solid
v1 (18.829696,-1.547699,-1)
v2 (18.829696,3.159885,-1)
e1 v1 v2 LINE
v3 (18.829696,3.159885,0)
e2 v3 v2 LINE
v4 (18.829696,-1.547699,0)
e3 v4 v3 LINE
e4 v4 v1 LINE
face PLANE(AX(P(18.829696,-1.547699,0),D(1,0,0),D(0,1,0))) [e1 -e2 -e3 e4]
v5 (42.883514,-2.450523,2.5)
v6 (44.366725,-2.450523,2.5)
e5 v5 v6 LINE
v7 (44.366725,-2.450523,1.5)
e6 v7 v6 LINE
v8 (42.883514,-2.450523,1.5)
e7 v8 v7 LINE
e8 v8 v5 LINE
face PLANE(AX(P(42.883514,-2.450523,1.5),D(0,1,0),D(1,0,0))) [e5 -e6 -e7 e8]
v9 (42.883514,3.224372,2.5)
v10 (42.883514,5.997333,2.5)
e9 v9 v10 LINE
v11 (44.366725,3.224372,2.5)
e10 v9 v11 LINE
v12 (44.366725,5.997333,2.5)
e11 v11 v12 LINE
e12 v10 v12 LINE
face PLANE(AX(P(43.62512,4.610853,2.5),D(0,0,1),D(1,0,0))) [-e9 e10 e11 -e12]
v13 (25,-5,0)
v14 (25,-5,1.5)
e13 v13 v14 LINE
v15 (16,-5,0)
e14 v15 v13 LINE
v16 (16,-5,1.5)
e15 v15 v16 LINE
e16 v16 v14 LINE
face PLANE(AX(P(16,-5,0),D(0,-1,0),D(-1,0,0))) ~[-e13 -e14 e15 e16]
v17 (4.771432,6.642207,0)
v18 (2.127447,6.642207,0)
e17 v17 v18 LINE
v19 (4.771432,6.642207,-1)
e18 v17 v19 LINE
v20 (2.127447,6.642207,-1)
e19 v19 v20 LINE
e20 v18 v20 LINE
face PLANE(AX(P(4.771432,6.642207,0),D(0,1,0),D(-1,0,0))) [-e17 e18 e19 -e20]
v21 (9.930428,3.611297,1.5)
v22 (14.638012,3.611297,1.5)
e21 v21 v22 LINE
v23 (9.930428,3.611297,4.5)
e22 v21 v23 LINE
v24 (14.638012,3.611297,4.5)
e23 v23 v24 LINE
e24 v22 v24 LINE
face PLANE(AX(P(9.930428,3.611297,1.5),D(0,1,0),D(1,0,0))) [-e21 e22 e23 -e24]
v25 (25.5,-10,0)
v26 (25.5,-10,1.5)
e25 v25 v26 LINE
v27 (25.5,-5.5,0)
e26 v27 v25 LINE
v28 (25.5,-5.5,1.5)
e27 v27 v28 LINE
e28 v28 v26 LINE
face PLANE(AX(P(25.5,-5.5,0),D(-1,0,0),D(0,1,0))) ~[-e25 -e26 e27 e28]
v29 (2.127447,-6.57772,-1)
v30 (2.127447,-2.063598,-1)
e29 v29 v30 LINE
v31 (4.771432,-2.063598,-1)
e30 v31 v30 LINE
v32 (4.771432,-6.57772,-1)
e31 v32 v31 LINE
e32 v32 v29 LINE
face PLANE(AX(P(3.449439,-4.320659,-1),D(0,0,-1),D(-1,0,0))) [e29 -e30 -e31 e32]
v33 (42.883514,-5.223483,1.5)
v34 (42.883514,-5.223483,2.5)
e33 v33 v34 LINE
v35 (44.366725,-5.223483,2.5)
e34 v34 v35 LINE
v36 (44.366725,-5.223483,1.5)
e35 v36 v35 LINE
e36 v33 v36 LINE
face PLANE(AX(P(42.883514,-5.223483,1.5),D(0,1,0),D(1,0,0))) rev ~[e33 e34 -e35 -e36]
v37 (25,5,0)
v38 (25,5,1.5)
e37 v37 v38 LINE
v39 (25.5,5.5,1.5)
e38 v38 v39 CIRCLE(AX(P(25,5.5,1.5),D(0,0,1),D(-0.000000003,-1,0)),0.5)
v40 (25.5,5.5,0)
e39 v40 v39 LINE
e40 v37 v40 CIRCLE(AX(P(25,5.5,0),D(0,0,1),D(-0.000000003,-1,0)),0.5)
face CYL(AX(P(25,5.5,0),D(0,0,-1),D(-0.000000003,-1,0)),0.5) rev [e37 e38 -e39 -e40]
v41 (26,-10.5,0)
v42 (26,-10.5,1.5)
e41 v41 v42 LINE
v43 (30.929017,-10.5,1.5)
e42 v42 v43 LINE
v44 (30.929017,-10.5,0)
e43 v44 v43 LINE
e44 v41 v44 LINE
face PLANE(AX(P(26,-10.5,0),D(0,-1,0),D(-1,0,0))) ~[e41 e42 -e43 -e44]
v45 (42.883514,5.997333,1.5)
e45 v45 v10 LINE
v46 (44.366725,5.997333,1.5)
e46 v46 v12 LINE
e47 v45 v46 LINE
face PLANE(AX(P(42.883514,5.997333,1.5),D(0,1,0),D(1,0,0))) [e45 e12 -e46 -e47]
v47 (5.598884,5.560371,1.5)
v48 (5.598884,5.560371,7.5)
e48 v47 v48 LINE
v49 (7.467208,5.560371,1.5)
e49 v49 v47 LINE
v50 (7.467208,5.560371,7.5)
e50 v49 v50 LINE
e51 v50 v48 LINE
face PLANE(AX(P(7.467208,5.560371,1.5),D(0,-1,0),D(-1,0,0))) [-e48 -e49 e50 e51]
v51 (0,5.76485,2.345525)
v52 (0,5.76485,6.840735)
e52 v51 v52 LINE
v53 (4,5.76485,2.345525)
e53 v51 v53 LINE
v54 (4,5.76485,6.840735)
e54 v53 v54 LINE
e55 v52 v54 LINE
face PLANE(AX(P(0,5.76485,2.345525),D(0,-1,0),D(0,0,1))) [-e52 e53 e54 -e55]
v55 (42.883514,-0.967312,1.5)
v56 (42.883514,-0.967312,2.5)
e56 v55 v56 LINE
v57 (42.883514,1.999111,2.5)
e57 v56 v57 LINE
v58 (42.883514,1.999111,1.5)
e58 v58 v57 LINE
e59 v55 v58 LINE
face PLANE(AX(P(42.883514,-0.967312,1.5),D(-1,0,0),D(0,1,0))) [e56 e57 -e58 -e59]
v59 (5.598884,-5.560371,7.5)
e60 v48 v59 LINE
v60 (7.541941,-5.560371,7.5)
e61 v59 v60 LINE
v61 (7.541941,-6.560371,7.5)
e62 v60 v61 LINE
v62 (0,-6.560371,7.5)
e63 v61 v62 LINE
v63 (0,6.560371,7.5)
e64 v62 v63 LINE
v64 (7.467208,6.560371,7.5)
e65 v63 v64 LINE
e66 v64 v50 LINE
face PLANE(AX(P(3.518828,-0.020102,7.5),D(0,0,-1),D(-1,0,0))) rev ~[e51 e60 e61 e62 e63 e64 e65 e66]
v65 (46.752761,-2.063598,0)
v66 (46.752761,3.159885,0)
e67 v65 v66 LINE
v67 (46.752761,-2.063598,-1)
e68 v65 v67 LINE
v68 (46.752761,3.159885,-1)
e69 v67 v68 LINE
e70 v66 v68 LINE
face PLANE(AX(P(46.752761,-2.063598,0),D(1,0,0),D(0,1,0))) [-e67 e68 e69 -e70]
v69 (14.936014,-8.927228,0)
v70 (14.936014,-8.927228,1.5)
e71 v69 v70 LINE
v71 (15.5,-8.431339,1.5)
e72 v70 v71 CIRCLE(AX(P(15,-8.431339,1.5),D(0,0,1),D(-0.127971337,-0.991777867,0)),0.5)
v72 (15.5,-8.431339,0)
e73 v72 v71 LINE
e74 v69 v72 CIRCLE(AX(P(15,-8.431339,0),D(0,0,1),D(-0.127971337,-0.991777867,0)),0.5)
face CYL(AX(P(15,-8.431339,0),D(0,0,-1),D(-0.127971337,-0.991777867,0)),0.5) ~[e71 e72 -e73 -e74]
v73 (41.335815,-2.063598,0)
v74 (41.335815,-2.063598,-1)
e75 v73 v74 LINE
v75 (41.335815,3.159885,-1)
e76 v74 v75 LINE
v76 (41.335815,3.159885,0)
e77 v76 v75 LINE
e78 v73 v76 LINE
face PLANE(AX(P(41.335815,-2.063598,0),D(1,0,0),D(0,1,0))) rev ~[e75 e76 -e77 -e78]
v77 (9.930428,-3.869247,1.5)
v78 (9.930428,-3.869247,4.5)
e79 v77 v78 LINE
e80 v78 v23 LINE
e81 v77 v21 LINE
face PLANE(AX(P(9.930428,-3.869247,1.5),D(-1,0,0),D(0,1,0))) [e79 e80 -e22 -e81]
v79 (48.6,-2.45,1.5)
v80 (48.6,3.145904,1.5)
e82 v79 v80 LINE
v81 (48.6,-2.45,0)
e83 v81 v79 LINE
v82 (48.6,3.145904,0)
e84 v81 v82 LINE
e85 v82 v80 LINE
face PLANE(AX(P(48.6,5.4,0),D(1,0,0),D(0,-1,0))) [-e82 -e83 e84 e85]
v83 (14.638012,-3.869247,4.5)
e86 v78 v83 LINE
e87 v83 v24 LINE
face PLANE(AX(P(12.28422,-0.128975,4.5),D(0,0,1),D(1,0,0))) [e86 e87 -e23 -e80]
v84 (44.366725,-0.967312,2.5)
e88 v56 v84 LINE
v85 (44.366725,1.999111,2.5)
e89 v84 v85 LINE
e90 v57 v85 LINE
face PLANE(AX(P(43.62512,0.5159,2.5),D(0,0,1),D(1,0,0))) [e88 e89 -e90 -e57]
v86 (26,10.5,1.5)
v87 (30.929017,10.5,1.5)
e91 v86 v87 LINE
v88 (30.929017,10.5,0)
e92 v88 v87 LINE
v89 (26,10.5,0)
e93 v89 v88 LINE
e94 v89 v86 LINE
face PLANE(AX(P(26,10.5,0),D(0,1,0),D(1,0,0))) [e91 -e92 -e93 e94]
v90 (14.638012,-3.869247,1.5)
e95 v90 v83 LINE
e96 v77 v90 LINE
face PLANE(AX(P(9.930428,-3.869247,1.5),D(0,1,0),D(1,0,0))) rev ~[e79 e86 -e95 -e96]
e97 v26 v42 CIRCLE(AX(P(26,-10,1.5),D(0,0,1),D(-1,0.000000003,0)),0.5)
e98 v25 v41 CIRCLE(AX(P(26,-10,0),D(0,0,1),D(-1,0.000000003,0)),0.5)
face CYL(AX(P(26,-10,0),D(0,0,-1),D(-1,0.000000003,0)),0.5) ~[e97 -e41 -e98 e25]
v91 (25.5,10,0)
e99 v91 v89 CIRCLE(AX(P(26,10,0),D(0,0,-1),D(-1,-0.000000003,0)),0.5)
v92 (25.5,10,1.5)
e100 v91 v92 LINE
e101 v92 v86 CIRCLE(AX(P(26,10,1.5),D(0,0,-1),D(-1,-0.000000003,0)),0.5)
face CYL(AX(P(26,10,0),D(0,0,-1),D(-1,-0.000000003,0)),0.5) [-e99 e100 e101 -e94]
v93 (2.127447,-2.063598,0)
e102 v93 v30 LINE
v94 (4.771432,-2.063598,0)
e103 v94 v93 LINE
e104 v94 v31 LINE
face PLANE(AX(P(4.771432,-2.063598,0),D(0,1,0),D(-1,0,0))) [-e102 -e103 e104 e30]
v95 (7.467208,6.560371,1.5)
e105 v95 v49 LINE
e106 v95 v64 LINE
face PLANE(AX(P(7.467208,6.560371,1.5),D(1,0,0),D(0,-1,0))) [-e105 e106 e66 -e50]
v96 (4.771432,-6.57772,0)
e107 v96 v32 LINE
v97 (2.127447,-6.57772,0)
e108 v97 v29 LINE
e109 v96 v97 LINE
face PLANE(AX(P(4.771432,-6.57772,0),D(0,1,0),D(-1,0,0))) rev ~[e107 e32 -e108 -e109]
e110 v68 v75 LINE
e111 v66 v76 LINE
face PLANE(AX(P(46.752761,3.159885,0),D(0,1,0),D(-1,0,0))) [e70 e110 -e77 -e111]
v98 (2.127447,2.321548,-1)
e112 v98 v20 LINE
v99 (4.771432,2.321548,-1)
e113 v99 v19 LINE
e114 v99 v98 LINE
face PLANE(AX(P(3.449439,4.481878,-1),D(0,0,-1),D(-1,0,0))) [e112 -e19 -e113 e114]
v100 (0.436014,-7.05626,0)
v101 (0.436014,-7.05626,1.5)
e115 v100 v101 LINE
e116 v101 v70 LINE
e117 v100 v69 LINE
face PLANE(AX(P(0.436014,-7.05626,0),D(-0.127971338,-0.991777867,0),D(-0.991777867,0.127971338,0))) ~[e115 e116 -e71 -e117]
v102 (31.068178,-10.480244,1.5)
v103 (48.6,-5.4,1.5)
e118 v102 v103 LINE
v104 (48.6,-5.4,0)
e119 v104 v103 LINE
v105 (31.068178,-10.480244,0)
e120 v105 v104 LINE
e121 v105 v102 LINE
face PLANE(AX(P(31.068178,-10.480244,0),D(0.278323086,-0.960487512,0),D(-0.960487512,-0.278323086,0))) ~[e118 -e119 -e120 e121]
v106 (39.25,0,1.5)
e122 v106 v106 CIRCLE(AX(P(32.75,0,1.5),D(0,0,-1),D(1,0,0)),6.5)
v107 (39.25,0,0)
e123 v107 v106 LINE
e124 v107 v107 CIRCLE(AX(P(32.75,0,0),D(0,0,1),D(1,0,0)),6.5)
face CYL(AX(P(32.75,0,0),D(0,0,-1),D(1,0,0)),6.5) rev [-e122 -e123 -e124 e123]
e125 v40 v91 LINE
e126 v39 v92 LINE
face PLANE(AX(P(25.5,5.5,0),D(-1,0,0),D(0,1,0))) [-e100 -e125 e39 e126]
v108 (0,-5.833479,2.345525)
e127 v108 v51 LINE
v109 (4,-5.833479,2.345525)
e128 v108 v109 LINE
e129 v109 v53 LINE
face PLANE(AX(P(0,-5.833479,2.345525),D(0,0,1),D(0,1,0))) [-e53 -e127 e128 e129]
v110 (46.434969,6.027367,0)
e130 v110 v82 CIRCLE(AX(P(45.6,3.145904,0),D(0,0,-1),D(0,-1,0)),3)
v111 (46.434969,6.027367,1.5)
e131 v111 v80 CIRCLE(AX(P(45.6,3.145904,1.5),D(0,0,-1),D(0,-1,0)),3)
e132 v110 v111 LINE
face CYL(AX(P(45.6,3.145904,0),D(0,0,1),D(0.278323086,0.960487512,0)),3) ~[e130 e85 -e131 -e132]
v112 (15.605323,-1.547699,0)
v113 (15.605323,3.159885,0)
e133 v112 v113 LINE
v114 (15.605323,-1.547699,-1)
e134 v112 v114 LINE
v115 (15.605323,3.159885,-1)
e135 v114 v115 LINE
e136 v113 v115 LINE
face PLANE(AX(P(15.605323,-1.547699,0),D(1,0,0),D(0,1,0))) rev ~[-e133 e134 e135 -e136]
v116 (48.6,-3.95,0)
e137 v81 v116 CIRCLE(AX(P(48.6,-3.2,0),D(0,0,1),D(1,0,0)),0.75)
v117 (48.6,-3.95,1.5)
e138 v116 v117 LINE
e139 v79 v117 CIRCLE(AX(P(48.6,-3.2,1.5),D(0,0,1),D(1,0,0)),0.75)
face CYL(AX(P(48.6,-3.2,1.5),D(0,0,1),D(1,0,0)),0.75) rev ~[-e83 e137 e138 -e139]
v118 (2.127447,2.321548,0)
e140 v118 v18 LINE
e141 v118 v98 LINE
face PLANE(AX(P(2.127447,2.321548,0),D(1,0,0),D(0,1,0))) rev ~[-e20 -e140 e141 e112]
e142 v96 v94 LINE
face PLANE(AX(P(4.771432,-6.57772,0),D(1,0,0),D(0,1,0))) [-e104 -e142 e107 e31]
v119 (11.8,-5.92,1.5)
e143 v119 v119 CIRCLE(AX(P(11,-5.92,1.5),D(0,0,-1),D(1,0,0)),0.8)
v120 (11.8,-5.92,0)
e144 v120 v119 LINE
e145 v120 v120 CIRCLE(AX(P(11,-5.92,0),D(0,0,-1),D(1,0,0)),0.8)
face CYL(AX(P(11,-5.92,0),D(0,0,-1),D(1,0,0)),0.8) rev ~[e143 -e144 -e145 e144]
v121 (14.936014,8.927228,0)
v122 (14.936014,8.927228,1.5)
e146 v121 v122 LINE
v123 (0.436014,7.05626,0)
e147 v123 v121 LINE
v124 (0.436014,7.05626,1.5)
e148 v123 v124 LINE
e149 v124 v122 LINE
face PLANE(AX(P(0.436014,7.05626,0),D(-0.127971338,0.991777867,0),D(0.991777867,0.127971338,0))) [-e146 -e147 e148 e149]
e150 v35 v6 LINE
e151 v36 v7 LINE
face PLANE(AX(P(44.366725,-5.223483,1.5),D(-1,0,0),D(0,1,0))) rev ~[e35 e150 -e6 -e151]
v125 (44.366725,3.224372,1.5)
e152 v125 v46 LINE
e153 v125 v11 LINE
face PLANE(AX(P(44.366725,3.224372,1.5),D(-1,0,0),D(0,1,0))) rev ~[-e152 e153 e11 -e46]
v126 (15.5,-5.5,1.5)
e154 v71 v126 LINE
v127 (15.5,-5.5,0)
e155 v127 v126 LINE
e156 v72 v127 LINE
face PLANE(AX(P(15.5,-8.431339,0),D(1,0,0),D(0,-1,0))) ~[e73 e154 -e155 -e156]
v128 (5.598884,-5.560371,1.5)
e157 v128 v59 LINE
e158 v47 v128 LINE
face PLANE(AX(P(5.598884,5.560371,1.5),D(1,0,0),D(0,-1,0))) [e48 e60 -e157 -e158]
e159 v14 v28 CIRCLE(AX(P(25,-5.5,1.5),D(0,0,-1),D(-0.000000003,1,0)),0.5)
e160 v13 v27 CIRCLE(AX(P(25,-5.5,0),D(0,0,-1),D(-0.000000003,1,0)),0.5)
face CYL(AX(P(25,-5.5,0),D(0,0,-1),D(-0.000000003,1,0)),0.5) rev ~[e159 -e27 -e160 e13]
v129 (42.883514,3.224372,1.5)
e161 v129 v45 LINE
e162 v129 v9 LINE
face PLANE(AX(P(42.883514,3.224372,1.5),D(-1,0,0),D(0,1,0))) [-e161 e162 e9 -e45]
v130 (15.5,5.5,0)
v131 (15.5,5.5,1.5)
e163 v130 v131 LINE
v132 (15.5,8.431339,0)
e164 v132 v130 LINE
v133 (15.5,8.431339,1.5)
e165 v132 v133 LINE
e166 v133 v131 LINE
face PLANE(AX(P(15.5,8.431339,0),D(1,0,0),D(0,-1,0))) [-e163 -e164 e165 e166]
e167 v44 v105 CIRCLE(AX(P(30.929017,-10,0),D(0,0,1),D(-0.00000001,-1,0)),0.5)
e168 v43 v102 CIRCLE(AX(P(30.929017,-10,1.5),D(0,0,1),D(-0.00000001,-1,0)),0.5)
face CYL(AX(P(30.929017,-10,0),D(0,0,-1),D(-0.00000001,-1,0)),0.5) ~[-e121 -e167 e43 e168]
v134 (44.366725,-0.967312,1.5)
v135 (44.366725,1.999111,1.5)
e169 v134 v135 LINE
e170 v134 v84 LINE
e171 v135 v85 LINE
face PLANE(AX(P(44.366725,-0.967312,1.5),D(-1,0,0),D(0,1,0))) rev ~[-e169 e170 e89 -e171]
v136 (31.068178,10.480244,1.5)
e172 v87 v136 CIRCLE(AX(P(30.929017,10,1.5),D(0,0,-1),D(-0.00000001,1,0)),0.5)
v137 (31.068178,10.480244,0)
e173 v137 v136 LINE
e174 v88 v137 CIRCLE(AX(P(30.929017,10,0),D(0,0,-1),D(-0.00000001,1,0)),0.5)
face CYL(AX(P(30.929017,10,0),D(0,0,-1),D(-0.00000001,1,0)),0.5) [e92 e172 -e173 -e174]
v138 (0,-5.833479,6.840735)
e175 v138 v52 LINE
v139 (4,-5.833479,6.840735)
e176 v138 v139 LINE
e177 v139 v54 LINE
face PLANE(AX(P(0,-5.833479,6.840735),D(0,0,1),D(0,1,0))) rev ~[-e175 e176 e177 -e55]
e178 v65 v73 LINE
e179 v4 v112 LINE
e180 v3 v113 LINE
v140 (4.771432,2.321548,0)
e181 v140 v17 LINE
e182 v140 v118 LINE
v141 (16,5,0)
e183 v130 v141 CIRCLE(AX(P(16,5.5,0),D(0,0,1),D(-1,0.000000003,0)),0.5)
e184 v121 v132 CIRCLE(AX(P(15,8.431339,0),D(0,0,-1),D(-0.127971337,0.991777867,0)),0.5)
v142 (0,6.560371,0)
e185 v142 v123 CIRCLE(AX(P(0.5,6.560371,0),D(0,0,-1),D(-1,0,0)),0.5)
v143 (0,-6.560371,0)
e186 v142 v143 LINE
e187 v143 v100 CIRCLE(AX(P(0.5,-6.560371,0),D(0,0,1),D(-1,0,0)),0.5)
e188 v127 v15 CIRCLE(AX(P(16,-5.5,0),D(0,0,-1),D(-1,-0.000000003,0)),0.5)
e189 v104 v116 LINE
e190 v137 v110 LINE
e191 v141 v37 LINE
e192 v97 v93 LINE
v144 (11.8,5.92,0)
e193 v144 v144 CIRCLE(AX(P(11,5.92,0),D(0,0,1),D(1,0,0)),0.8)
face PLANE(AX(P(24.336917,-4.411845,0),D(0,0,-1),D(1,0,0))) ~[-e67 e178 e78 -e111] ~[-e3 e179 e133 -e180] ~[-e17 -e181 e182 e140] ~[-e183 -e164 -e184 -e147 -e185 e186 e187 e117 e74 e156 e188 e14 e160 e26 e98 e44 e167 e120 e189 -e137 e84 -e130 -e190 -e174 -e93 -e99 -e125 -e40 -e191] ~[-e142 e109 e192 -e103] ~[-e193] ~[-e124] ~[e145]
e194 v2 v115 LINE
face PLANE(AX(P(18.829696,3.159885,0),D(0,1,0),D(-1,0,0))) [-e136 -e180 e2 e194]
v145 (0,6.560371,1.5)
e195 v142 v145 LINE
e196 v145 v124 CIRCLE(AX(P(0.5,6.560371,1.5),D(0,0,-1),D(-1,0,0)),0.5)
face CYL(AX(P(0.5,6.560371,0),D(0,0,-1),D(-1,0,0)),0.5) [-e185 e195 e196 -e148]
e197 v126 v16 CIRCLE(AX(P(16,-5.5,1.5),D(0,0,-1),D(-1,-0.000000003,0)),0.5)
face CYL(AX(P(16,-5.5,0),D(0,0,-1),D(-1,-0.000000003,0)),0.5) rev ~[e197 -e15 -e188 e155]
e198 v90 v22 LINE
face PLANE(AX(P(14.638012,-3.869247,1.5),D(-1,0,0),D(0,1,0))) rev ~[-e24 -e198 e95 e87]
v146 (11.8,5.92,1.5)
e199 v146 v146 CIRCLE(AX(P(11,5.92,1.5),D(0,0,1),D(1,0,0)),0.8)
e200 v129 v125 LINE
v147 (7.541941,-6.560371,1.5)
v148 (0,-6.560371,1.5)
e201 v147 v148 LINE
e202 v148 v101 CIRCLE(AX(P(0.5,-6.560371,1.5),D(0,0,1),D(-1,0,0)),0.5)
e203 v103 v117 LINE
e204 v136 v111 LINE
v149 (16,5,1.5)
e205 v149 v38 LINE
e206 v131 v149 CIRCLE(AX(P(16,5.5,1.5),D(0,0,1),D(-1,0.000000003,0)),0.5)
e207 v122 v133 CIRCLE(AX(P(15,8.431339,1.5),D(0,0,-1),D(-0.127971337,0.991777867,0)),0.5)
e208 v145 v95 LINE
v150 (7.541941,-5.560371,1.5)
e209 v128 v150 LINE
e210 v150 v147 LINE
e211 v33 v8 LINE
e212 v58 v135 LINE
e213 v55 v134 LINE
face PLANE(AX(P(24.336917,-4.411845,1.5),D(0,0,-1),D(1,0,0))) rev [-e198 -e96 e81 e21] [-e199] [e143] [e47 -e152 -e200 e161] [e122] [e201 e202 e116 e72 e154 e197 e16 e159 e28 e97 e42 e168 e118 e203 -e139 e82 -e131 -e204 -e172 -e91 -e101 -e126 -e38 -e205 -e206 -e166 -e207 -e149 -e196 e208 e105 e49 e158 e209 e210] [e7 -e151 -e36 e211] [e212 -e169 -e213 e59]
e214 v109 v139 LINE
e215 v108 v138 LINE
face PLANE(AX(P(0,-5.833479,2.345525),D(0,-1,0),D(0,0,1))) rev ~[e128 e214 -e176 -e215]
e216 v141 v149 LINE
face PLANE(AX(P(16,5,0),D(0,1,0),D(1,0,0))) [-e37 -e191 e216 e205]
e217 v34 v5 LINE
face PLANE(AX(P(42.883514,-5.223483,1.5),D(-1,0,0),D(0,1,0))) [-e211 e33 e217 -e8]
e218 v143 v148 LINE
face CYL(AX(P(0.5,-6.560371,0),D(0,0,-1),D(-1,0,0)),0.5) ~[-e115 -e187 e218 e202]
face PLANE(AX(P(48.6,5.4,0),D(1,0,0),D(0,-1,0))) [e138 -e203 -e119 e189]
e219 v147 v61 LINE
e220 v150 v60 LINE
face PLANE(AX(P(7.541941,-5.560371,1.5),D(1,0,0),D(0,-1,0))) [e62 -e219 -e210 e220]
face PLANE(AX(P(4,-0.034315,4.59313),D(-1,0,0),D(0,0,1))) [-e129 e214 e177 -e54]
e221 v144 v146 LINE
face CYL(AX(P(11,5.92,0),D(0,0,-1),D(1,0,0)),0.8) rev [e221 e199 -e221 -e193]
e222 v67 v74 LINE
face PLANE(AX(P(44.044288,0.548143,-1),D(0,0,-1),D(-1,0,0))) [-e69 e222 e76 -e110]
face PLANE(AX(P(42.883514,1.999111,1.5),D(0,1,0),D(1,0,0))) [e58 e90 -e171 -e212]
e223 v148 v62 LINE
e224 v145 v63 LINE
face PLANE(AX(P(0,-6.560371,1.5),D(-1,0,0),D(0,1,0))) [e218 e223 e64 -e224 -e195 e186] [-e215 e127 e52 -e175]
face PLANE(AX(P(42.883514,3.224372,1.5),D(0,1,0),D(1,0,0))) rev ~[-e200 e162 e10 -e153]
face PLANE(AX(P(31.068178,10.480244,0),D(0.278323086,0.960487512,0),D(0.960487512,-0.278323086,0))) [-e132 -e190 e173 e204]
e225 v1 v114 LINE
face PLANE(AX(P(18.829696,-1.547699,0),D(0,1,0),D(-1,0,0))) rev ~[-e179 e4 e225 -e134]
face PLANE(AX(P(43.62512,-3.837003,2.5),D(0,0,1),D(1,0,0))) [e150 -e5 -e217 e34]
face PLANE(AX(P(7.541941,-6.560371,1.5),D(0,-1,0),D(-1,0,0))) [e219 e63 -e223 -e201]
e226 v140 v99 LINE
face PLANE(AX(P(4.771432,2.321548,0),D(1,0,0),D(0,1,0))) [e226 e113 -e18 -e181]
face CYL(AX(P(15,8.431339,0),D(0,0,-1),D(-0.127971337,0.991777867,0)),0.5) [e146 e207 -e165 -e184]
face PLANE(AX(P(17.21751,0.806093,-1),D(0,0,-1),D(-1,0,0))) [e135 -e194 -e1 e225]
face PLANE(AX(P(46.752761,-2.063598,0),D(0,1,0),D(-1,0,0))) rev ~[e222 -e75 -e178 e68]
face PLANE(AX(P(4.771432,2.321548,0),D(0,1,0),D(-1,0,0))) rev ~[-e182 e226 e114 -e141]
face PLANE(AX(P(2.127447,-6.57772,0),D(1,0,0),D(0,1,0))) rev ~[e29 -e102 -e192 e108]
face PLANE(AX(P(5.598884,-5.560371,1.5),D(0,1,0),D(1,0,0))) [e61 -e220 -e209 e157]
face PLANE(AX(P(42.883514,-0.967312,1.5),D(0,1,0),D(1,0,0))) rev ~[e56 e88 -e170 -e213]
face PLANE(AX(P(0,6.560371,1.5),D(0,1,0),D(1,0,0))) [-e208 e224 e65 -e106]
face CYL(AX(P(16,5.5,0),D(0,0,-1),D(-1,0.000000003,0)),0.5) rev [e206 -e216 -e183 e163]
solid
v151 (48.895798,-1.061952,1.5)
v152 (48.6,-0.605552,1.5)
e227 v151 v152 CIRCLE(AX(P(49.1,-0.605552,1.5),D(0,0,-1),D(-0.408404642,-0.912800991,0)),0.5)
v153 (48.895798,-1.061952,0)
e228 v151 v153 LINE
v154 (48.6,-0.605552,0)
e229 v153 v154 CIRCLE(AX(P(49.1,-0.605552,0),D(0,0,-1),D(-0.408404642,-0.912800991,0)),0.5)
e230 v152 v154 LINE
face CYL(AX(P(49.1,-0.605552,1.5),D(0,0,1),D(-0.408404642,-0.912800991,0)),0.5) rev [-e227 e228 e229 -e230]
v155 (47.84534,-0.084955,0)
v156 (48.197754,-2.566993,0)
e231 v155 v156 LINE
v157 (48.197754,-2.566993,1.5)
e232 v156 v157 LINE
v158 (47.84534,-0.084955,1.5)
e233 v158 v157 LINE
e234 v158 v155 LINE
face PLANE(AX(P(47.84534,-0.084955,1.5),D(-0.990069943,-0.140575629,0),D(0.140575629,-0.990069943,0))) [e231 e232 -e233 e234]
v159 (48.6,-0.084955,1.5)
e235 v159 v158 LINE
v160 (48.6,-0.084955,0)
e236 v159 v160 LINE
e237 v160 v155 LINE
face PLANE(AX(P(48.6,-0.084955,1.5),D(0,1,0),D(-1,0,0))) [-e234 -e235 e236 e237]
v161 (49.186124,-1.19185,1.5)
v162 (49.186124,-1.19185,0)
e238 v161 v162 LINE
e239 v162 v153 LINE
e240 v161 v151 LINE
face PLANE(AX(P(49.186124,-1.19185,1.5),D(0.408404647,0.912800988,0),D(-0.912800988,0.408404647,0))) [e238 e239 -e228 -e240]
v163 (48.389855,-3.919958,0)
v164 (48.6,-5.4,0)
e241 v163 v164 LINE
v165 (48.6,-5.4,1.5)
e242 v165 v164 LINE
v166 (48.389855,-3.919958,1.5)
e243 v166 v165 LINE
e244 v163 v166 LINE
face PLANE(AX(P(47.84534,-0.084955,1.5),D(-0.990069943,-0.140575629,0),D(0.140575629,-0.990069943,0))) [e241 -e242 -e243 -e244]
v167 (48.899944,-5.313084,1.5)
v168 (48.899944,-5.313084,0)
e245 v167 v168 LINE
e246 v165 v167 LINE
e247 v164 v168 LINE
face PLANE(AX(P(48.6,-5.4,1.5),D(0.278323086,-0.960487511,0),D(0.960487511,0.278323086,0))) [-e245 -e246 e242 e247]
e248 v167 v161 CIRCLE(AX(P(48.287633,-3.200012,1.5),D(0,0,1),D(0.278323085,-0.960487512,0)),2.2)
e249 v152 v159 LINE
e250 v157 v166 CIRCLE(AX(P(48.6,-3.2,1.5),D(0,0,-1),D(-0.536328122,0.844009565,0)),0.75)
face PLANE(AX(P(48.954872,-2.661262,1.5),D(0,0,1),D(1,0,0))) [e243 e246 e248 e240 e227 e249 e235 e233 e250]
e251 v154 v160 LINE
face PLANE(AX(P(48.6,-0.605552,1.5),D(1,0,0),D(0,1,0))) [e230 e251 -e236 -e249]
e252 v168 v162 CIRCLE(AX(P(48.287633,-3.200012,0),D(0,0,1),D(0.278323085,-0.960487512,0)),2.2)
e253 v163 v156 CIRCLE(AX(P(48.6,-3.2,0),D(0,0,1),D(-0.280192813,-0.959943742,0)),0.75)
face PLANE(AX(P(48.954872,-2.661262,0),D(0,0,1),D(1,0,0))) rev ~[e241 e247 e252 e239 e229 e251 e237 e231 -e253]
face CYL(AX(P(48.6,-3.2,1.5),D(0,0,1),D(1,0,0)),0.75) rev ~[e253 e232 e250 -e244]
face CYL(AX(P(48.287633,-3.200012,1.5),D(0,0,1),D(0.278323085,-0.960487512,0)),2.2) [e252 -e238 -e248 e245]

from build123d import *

# Parameters (mm, degrees)
ESQUISSE1_R      = 0.8
EXTRUSION1_DEPTH = 1.5
EXTRUSION2_DEPTH = 1.5
CONG_1_R         = 3
ESQUISSE3_R      = 0.75
EXTRUSION3_DEPTH = 2.5
EXTRUSION4_DEPTH = 6
ESQUISSE5_W      = 4.707583755
ESQUISSE5_H      = 7.480544049
EXTRUSION5_DEPTH = 3
ESQUISSE6_W      = 1.48321132
ESQUISSE6_H      = 2.772960294
ESQUISSE6_H_2    = 2.96642264
EXTRUSION6_DEPTH = 1
ESQUISSE7_W      = 2.643985397
ESQUISSE7_H      = 4.320659063
ESQUISSE7_H_2    = 4.514121409
ESQUISSE7_W_2    = 3.224372435
ESQUISSE7_H_3    = 4.707583755
ESQUISSE7_W_3    = 5.41694569
ESQUISSE7_H_4    = 5.223483344
EXTRUSION7_DEPTH = 1
ESQUISSE8_W      = 4.49521056
ESQUISSE8_H      = 11.598329537
EXTRUSION8_DEPTH = 4


with BuildPart() as part:
    # Esquisse1 → Extrusion1 (new body)
    with BuildSketch(Plane.XY):
        with BuildLine():
            Line((0, 0), (0, 6.56037098))
            ThreePointArc((0, 6.56037098), (0.124505104, 6.890527887), (0.436014331, 7.056259914))
            Line((0.436014331, 7.056259914), (14.936014331, 8.927227656))
            ThreePointArc((14.936014331, 8.927227656), (15.330156906, 8.806833619), (15.5, 8.431338722))
            Line((15.5, 8.431338722), (15.5, 5.5))
            ThreePointArc((15.5, 5.5), (15.646446609, 5.146446609), (16, 5))
            Line((16, 5), (25, 5))
            ThreePointArc((25, 5), (25.353553391, 5.146446609), (25.5, 5.5))
            Line((25.5, 5.5), (25.5, 10))
            ThreePointArc((25.5, 10), (25.646446609, 10.353553391), (26, 10.5))
            Line((26, 10.5), (30.929016868, 10.5))
            ThreePointArc((30.929016868, 10.5), (30.999295322, 10.495036301), (31.068178411, 10.480243756))
            Line((31.068178411, 10.480243756), (48.6, 5.4))
            Line((48.6, 5.4), (48.6, 0))
            Line((48.6, 0), (39.25, 0))
            ThreePointArc((39.25, 0), (32.75, 6.5), (26.25, 0))
            Line((26.25, 0), (0, 0))
        make_face()
        with Locations((11, 5.92)):
            Circle(ESQUISSE1_R, mode=Mode.SUBTRACT)
    extrude(amount=EXTRUSION1_DEPTH)

    # Symétrie1: part across plane


with BuildPart() as part_1:
    add(part.part)
    add(part.part.mirror(Plane.ZX))

    # Congé1
    cong_1_edges = [part_1.edges().sort_by_distance(p)[0] for p in [
        (48.6, 5.4, 0.75),
    ]]
    fillet(cong_1_edges, radius=CONG_1_R)


with BuildPart() as body_2:
    # Esquisse2 → Extrusion2 (new body)
    with BuildSketch(Plane.XY.offset(1.5)):
        with BuildLine():
            Line((48.6, -5.4), (48.899944248, -5.313084337))
            ThreePointArc((48.899944248, -5.313084337), (50.482348427, -3.352413296), (49.186123682, -1.191849637))
            Line((49.186123682, -1.191849637), (48.895797677, -1.061952221))
            ThreePointArc((48.895797677, -1.061952221), (48.680416181, -0.877488152), (48.6, -0.605551727))
            Line((48.6, -0.605551727), (48.6, -0.084955215))
            Line((48.6, -0.084955215), (47.845340425, -0.084955215))
            Line((47.845340425, -0.084955215), (48.6, -5.4))
        make_face()
    extrude(amount=-EXTRUSION2_DEPTH)


with BuildPart() as extrusion3_tool:
    # Esquisse3 → Extrusion3 (new body, through all)
    with BuildSketch(Plane.XY.offset(1.5)):
        with Locations((48.6, -3.2)):
            Circle(ESQUISSE3_R)
    extrude(amount=-EXTRUSION3_DEPTH)


with BuildPart() as part_2:
    add(part_1.part)

    # Extrusion3: cut by extrusion3_tool
    add(extrusion3_tool.part, mode=Mode.SUBTRACT)

    # Esquisse4 → Extrusion4 (add)
    with BuildSketch(Plane.XY.offset(1.5)):
        Polygon((0, 6.56037098), (7.467207895, 6.56037098), (7.467207895, 5.56037098), (5.598884499, 5.56037098), (5.598884499, -5.56037098), (7.541940831, -5.56037098), (7.541940831, -6.56037098), (0, -6.56037098), align=None)
    extrude(amount=EXTRUSION4_DEPTH)

    # Esquisse5 → Extrusion5 (add)
    with BuildSketch(Plane.XY.offset(1.5)):
        with Locations((12.284219752, -0.128974898)):
            Rectangle(ESQUISSE5_W, ESQUISSE5_H)
    extrude(amount=EXTRUSION5_DEPTH)

    # Esquisse6 → Extrusion6 (add)
    with BuildSketch(Plane.XY.offset(1.5)):
        with Locations((43.625119818, 4.610852582)):
            Rectangle(ESQUISSE6_W, ESQUISSE6_H)
        with Locations((43.625119818, 0.51589959)):
            Rectangle(ESQUISSE6_W, ESQUISSE6_H_2)
        with Locations((43.625119818, -3.837003197)):
            Rectangle(ESQUISSE6_W, ESQUISSE6_H)
    extrude(amount=EXTRUSION6_DEPTH)

    # Esquisse7 → Extrusion7 (add)
    with BuildSketch(Plane(origin=(0, 0, 0), x_dir=(-1, 0, 0), z_dir=(0, 0, -1))):
        with Locations((-3.449439281, 4.481877685)):
            Rectangle(ESQUISSE7_W, ESQUISSE7_H)
        with Locations((-3.449439281, -4.320659063)):
            Rectangle(ESQUISSE7_W, ESQUISSE7_H_2)
        with Locations((-17.217509577, 0.806093109)):
            Rectangle(ESQUISSE7_W_2, ESQUISSE7_H_3)
        with Locations((-44.044288234, 0.548143314)):
            Rectangle(ESQUISSE7_W_3, ESQUISSE7_H_4)
    extrude(amount=EXTRUSION7_DEPTH)

    # Esquisse8 → Extrusion8 (cut)
    with BuildSketch(Plane.ZY):
        with Locations((4.593129783, -0.034314585)):
            Rectangle(ESQUISSE8_W, ESQUISSE8_H)
    extrude(amount=-EXTRUSION8_DEPTH, mode=Mode.SUBTRACT)


with BuildPart() as body_2_1:
    add(body_2.part)

    # Extrusion3: cut by extrusion3_tool
    add(extrusion3_tool.part, mode=Mode.SUBTRACT)


solid = Compound([part_2.part, body_2_1.part])
